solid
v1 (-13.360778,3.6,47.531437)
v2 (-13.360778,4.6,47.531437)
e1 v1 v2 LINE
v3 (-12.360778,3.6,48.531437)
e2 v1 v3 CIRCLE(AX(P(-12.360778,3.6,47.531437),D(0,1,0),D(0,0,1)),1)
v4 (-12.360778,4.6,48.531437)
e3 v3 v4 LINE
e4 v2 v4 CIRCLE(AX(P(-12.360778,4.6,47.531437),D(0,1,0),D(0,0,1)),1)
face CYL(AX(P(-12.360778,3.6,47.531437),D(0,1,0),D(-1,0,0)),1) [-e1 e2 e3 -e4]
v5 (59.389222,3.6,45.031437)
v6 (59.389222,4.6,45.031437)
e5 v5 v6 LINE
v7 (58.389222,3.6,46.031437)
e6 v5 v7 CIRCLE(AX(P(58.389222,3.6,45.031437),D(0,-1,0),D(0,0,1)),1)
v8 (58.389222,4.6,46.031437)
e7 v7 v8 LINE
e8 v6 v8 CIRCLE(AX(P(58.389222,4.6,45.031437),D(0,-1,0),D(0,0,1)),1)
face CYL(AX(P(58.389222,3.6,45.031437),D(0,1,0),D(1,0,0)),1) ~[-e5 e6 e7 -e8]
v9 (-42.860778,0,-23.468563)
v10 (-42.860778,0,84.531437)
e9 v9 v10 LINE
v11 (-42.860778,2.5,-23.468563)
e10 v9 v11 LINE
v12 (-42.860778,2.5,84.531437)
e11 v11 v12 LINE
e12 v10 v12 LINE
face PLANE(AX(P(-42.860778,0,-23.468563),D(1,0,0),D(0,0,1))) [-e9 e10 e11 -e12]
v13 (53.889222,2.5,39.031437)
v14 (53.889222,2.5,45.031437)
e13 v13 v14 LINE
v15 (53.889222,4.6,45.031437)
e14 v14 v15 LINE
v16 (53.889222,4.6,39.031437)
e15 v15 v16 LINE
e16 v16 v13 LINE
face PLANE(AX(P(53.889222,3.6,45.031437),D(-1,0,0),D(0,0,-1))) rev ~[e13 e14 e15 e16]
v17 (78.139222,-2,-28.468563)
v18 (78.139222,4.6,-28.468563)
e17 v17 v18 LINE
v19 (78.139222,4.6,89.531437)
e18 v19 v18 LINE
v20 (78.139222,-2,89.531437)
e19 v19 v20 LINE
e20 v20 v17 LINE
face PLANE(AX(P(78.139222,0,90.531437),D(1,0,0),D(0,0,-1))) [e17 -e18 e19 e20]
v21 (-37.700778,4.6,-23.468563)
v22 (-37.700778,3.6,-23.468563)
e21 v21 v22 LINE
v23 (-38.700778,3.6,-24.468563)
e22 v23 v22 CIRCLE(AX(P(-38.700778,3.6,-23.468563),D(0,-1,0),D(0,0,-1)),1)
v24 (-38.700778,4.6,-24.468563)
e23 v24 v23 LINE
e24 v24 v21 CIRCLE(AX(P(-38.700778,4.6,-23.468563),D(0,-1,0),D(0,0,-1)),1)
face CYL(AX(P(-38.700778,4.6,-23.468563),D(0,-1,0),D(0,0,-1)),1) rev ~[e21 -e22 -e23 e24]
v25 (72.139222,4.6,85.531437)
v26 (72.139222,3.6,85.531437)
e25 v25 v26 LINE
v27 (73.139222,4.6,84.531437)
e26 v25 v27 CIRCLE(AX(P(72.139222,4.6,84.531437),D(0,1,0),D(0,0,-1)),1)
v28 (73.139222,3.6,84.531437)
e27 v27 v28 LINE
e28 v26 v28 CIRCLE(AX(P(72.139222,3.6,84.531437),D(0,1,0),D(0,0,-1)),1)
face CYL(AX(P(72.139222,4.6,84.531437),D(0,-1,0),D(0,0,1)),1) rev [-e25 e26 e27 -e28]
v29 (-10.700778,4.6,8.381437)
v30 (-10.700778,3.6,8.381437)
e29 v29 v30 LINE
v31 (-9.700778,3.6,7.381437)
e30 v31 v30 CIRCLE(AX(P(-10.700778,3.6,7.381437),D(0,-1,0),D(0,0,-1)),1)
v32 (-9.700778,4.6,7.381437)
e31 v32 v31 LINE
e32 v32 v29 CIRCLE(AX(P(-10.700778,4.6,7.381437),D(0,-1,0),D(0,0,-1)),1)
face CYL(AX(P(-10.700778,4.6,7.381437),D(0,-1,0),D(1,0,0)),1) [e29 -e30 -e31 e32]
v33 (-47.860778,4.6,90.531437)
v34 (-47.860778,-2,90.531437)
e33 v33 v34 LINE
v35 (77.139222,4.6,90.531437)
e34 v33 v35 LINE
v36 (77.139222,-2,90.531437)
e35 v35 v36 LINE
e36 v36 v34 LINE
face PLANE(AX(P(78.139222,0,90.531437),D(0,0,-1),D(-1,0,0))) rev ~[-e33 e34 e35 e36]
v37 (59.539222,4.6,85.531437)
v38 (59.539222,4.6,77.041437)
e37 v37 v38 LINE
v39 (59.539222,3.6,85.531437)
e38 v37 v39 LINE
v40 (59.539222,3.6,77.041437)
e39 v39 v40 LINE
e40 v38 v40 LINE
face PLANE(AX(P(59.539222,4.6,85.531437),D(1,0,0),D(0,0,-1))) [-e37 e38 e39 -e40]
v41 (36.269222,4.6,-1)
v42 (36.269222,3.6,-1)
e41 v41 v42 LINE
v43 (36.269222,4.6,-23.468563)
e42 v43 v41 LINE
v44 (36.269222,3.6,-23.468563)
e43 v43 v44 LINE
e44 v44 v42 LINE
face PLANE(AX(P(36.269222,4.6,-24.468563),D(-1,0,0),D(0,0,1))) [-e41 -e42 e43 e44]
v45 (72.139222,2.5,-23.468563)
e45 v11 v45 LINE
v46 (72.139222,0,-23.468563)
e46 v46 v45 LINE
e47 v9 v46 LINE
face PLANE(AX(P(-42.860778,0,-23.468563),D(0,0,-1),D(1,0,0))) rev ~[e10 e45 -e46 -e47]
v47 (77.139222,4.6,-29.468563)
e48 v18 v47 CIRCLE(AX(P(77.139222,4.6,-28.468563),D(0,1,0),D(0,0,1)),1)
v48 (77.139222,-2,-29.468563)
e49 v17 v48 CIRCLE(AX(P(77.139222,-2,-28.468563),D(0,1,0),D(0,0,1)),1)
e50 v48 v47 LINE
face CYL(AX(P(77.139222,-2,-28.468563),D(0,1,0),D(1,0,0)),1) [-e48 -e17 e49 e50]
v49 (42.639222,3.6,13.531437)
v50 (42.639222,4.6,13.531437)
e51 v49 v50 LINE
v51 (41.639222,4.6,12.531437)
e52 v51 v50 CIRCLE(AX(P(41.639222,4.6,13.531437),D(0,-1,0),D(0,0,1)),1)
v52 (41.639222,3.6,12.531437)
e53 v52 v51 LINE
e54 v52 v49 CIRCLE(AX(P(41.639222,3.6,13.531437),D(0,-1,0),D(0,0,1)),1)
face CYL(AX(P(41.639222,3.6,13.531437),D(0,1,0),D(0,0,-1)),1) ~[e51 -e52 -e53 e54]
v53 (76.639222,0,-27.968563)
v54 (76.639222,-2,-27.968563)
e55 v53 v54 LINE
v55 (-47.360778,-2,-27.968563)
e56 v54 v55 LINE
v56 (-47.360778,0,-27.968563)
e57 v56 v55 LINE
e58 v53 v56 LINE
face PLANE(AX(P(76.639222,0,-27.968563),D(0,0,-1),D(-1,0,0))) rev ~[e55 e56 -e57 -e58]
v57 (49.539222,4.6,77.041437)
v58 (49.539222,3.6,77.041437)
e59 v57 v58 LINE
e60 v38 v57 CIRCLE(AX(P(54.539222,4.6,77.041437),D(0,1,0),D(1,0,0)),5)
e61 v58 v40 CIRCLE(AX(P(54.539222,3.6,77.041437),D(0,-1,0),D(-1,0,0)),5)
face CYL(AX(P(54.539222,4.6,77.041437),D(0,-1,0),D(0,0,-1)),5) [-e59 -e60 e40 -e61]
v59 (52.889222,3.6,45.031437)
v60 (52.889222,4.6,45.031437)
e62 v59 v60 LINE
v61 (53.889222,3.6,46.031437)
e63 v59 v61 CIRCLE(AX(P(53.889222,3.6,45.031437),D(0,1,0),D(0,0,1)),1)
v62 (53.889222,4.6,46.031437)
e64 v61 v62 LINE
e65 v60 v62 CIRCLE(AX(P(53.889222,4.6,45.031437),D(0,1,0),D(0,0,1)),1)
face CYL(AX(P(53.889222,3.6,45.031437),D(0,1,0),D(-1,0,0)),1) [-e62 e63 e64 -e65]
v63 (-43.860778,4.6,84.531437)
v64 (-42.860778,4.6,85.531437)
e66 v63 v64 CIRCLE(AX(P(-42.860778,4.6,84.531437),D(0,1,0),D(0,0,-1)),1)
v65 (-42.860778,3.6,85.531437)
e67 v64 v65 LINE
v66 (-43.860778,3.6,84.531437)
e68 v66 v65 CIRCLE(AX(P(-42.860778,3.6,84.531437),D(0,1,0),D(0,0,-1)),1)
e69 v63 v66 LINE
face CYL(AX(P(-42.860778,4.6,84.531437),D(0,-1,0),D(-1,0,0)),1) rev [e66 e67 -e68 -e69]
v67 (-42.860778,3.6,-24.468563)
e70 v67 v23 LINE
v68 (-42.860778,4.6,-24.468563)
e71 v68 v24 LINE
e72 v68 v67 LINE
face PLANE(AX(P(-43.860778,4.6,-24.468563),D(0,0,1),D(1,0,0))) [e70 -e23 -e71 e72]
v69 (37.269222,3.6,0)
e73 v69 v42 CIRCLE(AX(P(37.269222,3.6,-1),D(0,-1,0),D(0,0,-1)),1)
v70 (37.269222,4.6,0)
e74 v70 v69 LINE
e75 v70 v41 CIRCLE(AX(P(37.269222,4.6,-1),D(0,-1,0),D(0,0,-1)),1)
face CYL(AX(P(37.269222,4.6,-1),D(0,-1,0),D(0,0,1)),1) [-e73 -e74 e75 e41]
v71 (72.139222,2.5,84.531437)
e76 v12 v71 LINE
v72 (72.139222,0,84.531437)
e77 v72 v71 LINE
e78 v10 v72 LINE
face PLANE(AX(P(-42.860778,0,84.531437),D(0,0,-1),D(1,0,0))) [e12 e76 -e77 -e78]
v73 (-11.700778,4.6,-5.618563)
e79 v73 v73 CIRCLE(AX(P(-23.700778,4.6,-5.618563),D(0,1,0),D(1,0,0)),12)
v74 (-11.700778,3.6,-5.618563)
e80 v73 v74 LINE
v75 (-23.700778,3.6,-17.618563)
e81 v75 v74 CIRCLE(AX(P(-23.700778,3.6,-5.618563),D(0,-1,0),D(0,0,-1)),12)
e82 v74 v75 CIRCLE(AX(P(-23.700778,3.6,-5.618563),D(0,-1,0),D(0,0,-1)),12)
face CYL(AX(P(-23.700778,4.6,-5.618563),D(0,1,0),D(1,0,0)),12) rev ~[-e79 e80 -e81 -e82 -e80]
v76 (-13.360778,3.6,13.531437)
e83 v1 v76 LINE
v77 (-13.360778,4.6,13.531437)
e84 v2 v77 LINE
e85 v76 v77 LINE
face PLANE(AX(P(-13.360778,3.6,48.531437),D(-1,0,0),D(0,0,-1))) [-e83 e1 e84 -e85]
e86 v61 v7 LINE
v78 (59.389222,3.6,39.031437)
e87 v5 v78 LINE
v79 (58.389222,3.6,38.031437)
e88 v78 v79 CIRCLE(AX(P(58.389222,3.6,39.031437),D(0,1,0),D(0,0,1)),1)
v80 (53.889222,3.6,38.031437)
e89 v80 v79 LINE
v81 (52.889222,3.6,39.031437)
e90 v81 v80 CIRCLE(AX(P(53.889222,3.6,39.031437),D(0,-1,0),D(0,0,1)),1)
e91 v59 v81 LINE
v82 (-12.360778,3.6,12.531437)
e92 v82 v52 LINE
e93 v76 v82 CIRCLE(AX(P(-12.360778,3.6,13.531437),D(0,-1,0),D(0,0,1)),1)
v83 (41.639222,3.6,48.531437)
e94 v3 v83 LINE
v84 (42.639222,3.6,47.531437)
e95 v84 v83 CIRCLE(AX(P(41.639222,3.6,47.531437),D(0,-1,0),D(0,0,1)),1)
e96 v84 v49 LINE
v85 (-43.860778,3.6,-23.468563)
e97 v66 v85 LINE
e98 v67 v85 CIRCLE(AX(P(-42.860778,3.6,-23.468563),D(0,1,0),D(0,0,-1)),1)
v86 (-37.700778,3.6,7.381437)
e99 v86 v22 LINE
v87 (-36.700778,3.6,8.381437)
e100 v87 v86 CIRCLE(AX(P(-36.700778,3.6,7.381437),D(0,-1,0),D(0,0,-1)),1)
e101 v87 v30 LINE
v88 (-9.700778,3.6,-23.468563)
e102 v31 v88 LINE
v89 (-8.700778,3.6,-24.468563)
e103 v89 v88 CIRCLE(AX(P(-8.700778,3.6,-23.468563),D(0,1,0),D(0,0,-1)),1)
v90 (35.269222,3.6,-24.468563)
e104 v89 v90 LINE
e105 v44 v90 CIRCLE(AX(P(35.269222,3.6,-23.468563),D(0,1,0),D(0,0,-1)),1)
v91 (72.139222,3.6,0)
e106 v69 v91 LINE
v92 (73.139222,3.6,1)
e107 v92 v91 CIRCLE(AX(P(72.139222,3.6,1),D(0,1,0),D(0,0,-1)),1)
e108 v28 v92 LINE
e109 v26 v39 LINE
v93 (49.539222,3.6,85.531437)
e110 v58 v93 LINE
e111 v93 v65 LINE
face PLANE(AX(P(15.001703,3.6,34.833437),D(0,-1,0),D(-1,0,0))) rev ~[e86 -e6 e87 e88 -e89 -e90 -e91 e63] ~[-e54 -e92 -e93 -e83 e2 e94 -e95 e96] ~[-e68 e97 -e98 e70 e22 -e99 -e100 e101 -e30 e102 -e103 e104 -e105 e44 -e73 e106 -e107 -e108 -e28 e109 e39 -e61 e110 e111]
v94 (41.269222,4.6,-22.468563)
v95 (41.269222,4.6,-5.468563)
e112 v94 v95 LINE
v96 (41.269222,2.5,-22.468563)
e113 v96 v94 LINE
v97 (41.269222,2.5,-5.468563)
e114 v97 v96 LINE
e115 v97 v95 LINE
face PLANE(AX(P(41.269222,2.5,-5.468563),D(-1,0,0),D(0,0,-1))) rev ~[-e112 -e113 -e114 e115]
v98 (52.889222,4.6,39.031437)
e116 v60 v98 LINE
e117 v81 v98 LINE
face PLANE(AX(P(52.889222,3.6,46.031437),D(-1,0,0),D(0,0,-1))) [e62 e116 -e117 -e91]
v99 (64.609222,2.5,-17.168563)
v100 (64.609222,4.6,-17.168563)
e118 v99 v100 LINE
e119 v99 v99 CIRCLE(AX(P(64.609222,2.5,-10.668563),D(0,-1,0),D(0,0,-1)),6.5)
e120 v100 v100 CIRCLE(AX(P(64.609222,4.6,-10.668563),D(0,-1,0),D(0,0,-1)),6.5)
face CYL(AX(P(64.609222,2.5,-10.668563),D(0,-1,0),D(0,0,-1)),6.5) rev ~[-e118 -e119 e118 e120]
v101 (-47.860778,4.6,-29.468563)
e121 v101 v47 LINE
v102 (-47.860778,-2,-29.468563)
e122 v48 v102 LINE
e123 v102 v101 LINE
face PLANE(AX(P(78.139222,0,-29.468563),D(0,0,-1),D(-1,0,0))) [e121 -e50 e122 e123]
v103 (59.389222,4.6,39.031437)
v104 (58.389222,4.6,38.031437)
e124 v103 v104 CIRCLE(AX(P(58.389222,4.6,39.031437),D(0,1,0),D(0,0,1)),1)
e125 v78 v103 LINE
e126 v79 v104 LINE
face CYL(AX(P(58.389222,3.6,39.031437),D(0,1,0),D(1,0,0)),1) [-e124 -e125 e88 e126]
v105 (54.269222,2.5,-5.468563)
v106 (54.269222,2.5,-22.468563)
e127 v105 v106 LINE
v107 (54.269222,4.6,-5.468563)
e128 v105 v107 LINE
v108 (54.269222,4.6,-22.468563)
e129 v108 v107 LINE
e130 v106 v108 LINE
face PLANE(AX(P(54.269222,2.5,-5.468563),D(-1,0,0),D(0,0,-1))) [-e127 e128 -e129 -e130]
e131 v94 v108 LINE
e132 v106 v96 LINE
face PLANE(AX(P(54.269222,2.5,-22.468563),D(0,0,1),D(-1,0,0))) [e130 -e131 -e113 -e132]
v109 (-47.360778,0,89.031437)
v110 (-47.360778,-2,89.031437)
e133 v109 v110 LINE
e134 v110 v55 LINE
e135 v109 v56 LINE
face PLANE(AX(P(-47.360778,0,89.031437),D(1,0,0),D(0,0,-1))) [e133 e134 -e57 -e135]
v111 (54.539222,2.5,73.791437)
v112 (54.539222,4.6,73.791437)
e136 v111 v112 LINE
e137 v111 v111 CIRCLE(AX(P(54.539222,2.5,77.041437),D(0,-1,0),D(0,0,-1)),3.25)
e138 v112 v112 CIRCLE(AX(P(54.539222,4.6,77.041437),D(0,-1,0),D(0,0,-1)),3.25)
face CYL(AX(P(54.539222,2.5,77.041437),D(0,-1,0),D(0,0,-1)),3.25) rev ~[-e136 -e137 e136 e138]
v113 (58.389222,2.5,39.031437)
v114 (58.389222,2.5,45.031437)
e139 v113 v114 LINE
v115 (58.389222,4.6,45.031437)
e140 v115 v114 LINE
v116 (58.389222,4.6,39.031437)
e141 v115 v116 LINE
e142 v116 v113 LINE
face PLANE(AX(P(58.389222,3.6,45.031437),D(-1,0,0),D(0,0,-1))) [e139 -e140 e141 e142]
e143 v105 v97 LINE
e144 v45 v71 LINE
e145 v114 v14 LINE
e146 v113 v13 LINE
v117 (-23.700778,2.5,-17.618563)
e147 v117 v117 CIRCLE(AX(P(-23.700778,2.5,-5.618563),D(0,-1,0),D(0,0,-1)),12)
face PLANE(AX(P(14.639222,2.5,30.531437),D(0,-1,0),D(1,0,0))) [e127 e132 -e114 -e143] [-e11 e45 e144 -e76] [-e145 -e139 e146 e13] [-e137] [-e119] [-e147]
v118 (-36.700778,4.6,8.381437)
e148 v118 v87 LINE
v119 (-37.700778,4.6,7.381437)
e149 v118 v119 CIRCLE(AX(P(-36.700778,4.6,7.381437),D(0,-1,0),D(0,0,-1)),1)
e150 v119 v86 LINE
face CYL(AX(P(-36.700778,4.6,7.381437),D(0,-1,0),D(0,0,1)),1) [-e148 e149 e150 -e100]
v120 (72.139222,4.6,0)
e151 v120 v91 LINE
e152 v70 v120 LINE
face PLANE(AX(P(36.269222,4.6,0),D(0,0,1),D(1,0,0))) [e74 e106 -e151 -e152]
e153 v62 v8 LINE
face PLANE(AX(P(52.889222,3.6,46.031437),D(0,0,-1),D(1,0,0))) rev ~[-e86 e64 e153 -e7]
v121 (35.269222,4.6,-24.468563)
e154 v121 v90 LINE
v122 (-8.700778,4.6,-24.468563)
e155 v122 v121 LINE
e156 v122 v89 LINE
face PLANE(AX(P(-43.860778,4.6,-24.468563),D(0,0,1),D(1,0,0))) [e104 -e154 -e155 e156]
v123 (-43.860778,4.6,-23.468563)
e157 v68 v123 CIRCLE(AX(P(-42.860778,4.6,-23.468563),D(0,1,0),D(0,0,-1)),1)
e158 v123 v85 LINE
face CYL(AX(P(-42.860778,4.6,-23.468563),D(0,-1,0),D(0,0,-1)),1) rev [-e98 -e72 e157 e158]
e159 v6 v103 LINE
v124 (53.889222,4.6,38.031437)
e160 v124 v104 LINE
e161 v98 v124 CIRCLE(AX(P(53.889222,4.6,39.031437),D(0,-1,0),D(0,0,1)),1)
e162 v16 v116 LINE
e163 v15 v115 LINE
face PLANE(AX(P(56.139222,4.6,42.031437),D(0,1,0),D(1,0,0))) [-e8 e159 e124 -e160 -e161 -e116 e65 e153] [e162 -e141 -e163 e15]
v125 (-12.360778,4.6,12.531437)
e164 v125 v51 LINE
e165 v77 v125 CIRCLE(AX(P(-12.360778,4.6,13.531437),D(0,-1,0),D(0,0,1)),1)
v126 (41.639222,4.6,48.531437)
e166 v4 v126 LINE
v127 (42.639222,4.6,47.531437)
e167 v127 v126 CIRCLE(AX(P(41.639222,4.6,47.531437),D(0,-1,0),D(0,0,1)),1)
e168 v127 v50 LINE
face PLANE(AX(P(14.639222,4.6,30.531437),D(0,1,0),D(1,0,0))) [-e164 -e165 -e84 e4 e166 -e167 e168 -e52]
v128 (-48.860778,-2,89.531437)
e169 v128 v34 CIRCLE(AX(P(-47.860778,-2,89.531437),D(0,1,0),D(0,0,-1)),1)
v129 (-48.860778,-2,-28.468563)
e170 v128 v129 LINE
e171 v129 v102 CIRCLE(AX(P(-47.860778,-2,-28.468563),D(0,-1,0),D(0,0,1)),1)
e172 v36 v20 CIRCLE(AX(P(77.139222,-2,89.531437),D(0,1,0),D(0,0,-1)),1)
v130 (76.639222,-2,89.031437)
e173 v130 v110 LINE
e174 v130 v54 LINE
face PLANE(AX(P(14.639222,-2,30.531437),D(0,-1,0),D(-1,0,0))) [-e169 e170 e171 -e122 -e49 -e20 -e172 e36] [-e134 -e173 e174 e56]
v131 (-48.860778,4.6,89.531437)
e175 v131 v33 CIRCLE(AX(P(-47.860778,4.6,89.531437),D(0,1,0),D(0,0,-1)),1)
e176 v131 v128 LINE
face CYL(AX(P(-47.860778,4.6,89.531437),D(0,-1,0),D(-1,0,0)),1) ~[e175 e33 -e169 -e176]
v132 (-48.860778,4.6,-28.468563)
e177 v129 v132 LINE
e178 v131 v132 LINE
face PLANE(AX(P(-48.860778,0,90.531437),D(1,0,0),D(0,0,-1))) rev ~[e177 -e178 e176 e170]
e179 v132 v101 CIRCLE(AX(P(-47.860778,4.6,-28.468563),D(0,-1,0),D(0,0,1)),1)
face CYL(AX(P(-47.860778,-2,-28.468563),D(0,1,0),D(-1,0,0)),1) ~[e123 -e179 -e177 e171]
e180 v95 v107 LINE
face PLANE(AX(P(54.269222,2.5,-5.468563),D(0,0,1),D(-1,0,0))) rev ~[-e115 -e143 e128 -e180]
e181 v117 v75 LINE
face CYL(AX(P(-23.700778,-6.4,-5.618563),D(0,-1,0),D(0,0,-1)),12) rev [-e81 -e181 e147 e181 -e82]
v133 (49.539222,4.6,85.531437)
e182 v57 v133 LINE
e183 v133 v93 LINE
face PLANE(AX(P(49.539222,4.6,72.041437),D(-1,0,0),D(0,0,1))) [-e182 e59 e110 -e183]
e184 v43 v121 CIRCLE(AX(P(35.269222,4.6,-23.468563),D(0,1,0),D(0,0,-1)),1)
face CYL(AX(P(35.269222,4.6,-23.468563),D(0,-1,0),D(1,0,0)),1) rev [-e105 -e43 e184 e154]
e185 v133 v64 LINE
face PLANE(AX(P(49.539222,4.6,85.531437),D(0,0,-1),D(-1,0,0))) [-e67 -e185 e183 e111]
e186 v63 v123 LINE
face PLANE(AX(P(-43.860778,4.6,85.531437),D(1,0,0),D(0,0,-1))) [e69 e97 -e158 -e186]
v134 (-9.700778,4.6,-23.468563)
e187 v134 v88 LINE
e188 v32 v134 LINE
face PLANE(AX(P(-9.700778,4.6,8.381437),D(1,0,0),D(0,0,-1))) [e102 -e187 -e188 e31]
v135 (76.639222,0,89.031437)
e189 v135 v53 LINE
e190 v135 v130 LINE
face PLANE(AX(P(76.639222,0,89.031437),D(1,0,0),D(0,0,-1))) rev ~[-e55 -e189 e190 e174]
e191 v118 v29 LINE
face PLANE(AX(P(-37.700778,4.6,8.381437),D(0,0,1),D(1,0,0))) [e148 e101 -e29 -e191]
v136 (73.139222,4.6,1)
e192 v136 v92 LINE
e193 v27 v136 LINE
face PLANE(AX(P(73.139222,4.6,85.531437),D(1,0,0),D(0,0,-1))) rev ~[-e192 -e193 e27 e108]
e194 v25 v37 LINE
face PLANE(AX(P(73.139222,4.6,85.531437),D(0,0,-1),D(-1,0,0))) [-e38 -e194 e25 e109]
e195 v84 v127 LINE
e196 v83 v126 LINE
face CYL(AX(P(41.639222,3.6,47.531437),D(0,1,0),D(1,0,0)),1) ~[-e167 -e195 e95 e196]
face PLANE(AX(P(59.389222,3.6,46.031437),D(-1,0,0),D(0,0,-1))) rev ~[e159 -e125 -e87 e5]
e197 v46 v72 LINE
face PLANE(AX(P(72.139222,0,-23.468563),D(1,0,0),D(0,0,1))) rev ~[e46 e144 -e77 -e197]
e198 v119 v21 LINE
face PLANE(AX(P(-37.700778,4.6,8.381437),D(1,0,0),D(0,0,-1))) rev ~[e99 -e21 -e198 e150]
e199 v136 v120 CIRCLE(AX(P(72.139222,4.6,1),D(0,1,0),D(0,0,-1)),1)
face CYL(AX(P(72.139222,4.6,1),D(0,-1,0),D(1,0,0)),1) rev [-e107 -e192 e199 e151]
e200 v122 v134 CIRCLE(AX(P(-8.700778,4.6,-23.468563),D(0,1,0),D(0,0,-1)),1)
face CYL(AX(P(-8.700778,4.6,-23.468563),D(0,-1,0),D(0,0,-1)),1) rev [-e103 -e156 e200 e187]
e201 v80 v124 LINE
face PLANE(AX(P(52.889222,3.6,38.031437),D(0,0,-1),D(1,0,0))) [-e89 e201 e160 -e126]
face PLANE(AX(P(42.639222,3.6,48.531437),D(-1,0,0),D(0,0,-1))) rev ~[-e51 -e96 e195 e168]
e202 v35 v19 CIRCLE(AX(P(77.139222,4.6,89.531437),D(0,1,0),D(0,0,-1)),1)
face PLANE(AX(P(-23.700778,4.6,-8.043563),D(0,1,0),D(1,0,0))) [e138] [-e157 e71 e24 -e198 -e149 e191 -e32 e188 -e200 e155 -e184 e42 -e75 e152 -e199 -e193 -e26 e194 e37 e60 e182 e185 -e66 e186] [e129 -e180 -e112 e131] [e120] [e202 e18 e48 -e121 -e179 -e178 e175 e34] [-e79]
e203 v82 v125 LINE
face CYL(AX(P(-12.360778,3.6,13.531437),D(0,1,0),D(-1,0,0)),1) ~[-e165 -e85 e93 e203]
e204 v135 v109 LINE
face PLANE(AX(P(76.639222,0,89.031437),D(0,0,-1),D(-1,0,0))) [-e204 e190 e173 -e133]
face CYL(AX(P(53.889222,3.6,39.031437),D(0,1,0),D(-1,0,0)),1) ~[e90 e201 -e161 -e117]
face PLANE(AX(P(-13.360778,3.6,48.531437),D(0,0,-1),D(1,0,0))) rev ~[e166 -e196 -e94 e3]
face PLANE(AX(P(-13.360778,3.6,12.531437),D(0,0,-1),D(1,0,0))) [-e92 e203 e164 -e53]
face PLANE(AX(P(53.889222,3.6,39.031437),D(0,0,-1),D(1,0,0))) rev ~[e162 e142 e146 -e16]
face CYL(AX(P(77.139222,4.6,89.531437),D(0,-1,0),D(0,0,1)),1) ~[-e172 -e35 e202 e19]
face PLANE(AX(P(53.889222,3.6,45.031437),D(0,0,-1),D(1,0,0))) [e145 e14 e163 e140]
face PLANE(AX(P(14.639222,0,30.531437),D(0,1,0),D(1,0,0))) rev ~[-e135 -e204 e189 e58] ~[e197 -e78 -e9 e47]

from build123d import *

# Parameters (mm, degrees)
CROQUIS1_W                 = 127
CROQUIS1_H                 = 120
SALIENTE_EXTRUIR1_DEPTH    = 4.6
CROQUIS2_W                 = 115
CROQUIS2_H                 = 108
CORTAR_EXTRUIR1_DEPTH      = 2.5
CROQUIS4_R                 = 3.25
CORTAR_EXTRUIR2_DEPTH      = 5
CROQUIS5_R                 = 6.5
CORTAR_EXTRUIR3_DEPTH      = 5
CROQUIS9_W                 = 13
CROQUIS9_H                 = 17
CORTAR_EXTRUIR5_DEPTH      = 5
CORTAR_EXTRUIR7_DEPTH      = 1
CORTAR_EXTRUIR8_DEPTH      = 10
CORTAR_EXTRUIR8_DEPTH_BACK = 10
CROQUIS12_R                = 12
SALIENTE_EXTRUIR3_START    = 1
CROQUIS14_W                = 28
CROQUIS14_H                = 32.85
CROQUIS14_R                = 12
SALIENTE_EXTRUIR3_DEPTH    = 1
REDONDEO4_RADIUS           = 5
REDONDEO4_LENGTH           = 1
CROQUIS11_W                = 56
CROQUIS11_H                = 36
SALIENTE_EXTRUIR2_DEPTH    = 1
REDONDEO6_R                = 1
REDONDEO7_R                = 1
CROQUIS15_W                = 127
CROQUIS15_H                = 120
CROQUIS15_W_2              = 124
CROQUIS15_H_2              = 117
SALIENTE_EXTRUIR4_DEPTH    = 2
CROQUIS16_W                = 4.5
CROQUIS16_H                = 6
CORTAR_EXTRUIR9_DEPTH      = 20
CROQUIS18_W                = 6.5
CROQUIS18_H                = 8
CROQUIS18_W_2              = 4.5
CROQUIS18_H_2              = 6
SALIENTE_EXTRUIR5_DEPTH    = 1
REDONDEO8_R                = 1
REDONDEO9_R                = 1


with BuildPart() as part:
    # Croquis1 → Saliente-Extruir1 (new body)
    with BuildSketch(Plane(origin=(0, 0, 0), x_dir=(1, 0, 0), z_dir=(0, 1, 0))):
        with Locations((14.639221557, -30.531437126)):
            Rectangle(CROQUIS1_W, CROQUIS1_H)
    extrude(amount=SALIENTE_EXTRUIR1_DEPTH)

    # Croquis2 → Cortar-Extruir1 (cut)
    with BuildSketch(Plane.XZ):
        with Locations((14.639221557, 30.531437126)):
            Rectangle(CROQUIS2_W, CROQUIS2_H)
    extrude(amount=-CORTAR_EXTRUIR1_DEPTH, mode=Mode.SUBTRACT)

    # Croquis4 → Cortar-Extruir2 (cut)
    with BuildSketch(Plane.XZ.offset(-2.5)):
        with Locations(Location((54.539221557, 77.041437126, 0), (0, 0, 270))):
            Circle(CROQUIS4_R)
    extrude(amount=-CORTAR_EXTRUIR2_DEPTH, mode=Mode.SUBTRACT)

    # Croquis5 → Cortar-Extruir3 (cut)
    with BuildSketch(Plane.XZ.offset(-2.5)):
        with Locations(Location((64.609221557, -10.668562874, 0), (0, 0, 270))):
            Circle(CROQUIS5_R)
    extrude(amount=-CORTAR_EXTRUIR3_DEPTH, mode=Mode.SUBTRACT)

    # Croquis9 → Cortar-Extruir5 (cut)
    with BuildSketch(Plane(origin=(0, 2.5, 0), x_dir=(-1, 0, 0), z_dir=(0, -1, 0))):
        with Locations((-47.769221557, 13.968562874)):
            Rectangle(CROQUIS9_W, CROQUIS9_H)
    extrude(amount=-CORTAR_EXTRUIR5_DEPTH, mode=Mode.SUBTRACT)

    # Croquis10 → Cortar-Extruir7 (cut)
    with BuildSketch(Plane(origin=(0, 4.6, 0), x_dir=(1, 0, 0), z_dir=(0, 1, 0))):
        Polygon((-43.860778443, 24.468562874), (36.269221557, 24.468562874), (36.269221557, 0), (73.139221557, 0), (73.139221557, -73.041437126), (73.139221557, -85.531437126), (59.539221557, -85.531437126), (59.539221557, -72.041437126), (49.539221557, -72.041437126), (49.539221557, -85.531437126), (-43.860778443, -85.531437126), align=None)
    extrude(amount=-CORTAR_EXTRUIR7_DEPTH, mode=Mode.SUBTRACT)

    # Croquis12 → Cortar-Extruir8 (cut, two sides: drawn at the far end of the back side and taken through both)
    with BuildSketch(Plane(origin=(0, 3.6, 0), x_dir=(1, 0, 0), z_dir=(0, 1, 0)).offset(-CORTAR_EXTRUIR8_DEPTH_BACK)):
        with Locations(Location((-23.700778443, 5.618562874, 0), (0, 0, 90))):
            Circle(CROQUIS12_R)
    extrude(amount=CORTAR_EXTRUIR8_DEPTH + CORTAR_EXTRUIR8_DEPTH_BACK, mode=Mode.SUBTRACT)

    # Croquis14 → Saliente-Extruir3 (add)
    with BuildSketch(Plane(origin=(0, 3.6, 0), x_dir=(1, 0, 0), z_dir=(0, 1, 0)).offset(SALIENTE_EXTRUIR3_START)):
        with Locations((-23.700778443, 8.043562874)):
            Rectangle(CROQUIS14_W, CROQUIS14_H)
        with Locations((-23.700778443, 5.618562874)):
            Circle(CROQUIS14_R, mode=Mode.SUBTRACT)
    extrude(amount=-SALIENTE_EXTRUIR3_DEPTH)

    # Redondeo4: full round fillet: the end face becomes a half cylinder, R = half its width
    redondeo4_face = Plane((54.539221557, 4.1, 72.041437126), x_dir=(0, -1, 0), z_dir=(0, 0, -1))  # on the end face: x along it, z out of the body
    redondeo4_slab = redondeo4_face.offset(-REDONDEO4_RADIUS / 2) * Box(REDONDEO4_LENGTH, 2 * REDONDEO4_RADIUS, REDONDEO4_RADIUS, mode=Mode.PRIVATE)  # the body's end, R deep
    redondeo4_round = Plane((54.539221557, 4.1, 77.041437126), x_dir=(0, 0, -1), z_dir=(0, -1, 0)) * Cylinder(REDONDEO4_RADIUS, REDONDEO4_LENGTH, mode=Mode.PRIVATE)  # its axis R under the face
    add(redondeo4_slab - redondeo4_round, mode=Mode.SUBTRACT)

    # Croquis11 → Saliente-Extruir2 (add)
    with BuildSketch(Plane(origin=(0, 3.6, 0), x_dir=(1, 0, 0), z_dir=(0, 1, 0))):
        with Locations((14.639221557, -30.531437126)):
            Rectangle(CROQUIS11_W, CROQUIS11_H)
    extrude(amount=SALIENTE_EXTRUIR2_DEPTH)

    # Redondeo6
    redondeo6_edges = [part.edges().sort_by_distance(p)[0] for p in [
        (-13.360778443, 4.1, 12.531437126),
        (-13.360778443, 4.1, 48.531437126),
        (42.639221557, 4.1, 48.531437126),
        (42.639221557, 4.1, 12.531437126),
        (-43.860778443, 4.1, 85.531437126),
        (-43.860778443, 4.1, -24.468562874),
        (36.269221557, 4.1, -24.468562874),
        (36.269221557, 4.1, 0),
        (73.139221557, 4.1, 0),
        (73.139221557, 4.1, 85.531437126),
    ]]
    fillet(redondeo6_edges, radius=REDONDEO6_R)

    # Redondeo7
    redondeo7_edges = [part.edges().sort_by_distance(p)[0] for p in [
        (-9.700778443, 4.1, 8.381437126),
        (-9.700778443, 4.1, -24.468562874),
        (-37.700778443, 4.1, -24.468562874),
        (-37.700778443, 4.1, 8.381437126),
    ]]
    fillet(redondeo7_edges, radius=REDONDEO7_R)

    # Croquis15 → Saliente-Extruir4 (add)
    with BuildSketch(Plane(origin=(0, 0, 0), x_dir=(-1, 0, 0), z_dir=(0, -1, 0))):
        with Locations((-14.639221557, -30.531437126)):
            Rectangle(CROQUIS15_W, CROQUIS15_H)
        with Locations((-14.639221557, -30.531437126)):
            Rectangle(CROQUIS15_W_2, CROQUIS15_H_2, mode=Mode.SUBTRACT)
    extrude(amount=SALIENTE_EXTRUIR4_DEPTH)

    # Croquis16 → Cortar-Extruir9 (cut)
    with BuildSketch(Plane(origin=(0, 3.6, 0), x_dir=(1, 0, 0), z_dir=(0, 1, 0))):
        with Locations((56.139221557, -42.031437126)):
            Rectangle(CROQUIS16_W, CROQUIS16_H)
    extrude(amount=-CORTAR_EXTRUIR9_DEPTH, mode=Mode.SUBTRACT)

    # Croquis18 → Saliente-Extruir5 (add)
    with BuildSketch(Plane(origin=(0, 3.6, 0), x_dir=(1, 0, 0), z_dir=(0, 1, 0))):
        with Locations((56.139221557, -42.031437126)):
            Rectangle(CROQUIS18_W, CROQUIS18_H)
        with Locations((56.139221557, -42.031437126)):
            Rectangle(CROQUIS18_W_2, CROQUIS18_H_2, mode=Mode.SUBTRACT)
    extrude(amount=SALIENTE_EXTRUIR5_DEPTH)

    # Redondeo8
    redondeo8_edges = [part.edges().sort_by_distance(p)[0] for p in [
        (59.389221557, 4.1, 46.031437126),
        (59.389221557, 4.1, 38.031437126),
        (52.889221557, 4.1, 38.031437126),
        (52.889221557, 4.1, 46.031437126),
    ]]
    fillet(redondeo8_edges, radius=REDONDEO8_R)

    # Redondeo9
    redondeo9_edges = [part.edges().sort_by_distance(p)[0] for p in [
        (-48.860778443, 1.3, -29.468562874),
        (78.139221557, 1.3, -29.468562874),
        (78.139221557, 1.3, 90.531437126),
        (-48.860778443, 1.3, 90.531437126),
    ]]
    fillet(redondeo9_edges, radius=REDONDEO9_R)


solid = part.part
